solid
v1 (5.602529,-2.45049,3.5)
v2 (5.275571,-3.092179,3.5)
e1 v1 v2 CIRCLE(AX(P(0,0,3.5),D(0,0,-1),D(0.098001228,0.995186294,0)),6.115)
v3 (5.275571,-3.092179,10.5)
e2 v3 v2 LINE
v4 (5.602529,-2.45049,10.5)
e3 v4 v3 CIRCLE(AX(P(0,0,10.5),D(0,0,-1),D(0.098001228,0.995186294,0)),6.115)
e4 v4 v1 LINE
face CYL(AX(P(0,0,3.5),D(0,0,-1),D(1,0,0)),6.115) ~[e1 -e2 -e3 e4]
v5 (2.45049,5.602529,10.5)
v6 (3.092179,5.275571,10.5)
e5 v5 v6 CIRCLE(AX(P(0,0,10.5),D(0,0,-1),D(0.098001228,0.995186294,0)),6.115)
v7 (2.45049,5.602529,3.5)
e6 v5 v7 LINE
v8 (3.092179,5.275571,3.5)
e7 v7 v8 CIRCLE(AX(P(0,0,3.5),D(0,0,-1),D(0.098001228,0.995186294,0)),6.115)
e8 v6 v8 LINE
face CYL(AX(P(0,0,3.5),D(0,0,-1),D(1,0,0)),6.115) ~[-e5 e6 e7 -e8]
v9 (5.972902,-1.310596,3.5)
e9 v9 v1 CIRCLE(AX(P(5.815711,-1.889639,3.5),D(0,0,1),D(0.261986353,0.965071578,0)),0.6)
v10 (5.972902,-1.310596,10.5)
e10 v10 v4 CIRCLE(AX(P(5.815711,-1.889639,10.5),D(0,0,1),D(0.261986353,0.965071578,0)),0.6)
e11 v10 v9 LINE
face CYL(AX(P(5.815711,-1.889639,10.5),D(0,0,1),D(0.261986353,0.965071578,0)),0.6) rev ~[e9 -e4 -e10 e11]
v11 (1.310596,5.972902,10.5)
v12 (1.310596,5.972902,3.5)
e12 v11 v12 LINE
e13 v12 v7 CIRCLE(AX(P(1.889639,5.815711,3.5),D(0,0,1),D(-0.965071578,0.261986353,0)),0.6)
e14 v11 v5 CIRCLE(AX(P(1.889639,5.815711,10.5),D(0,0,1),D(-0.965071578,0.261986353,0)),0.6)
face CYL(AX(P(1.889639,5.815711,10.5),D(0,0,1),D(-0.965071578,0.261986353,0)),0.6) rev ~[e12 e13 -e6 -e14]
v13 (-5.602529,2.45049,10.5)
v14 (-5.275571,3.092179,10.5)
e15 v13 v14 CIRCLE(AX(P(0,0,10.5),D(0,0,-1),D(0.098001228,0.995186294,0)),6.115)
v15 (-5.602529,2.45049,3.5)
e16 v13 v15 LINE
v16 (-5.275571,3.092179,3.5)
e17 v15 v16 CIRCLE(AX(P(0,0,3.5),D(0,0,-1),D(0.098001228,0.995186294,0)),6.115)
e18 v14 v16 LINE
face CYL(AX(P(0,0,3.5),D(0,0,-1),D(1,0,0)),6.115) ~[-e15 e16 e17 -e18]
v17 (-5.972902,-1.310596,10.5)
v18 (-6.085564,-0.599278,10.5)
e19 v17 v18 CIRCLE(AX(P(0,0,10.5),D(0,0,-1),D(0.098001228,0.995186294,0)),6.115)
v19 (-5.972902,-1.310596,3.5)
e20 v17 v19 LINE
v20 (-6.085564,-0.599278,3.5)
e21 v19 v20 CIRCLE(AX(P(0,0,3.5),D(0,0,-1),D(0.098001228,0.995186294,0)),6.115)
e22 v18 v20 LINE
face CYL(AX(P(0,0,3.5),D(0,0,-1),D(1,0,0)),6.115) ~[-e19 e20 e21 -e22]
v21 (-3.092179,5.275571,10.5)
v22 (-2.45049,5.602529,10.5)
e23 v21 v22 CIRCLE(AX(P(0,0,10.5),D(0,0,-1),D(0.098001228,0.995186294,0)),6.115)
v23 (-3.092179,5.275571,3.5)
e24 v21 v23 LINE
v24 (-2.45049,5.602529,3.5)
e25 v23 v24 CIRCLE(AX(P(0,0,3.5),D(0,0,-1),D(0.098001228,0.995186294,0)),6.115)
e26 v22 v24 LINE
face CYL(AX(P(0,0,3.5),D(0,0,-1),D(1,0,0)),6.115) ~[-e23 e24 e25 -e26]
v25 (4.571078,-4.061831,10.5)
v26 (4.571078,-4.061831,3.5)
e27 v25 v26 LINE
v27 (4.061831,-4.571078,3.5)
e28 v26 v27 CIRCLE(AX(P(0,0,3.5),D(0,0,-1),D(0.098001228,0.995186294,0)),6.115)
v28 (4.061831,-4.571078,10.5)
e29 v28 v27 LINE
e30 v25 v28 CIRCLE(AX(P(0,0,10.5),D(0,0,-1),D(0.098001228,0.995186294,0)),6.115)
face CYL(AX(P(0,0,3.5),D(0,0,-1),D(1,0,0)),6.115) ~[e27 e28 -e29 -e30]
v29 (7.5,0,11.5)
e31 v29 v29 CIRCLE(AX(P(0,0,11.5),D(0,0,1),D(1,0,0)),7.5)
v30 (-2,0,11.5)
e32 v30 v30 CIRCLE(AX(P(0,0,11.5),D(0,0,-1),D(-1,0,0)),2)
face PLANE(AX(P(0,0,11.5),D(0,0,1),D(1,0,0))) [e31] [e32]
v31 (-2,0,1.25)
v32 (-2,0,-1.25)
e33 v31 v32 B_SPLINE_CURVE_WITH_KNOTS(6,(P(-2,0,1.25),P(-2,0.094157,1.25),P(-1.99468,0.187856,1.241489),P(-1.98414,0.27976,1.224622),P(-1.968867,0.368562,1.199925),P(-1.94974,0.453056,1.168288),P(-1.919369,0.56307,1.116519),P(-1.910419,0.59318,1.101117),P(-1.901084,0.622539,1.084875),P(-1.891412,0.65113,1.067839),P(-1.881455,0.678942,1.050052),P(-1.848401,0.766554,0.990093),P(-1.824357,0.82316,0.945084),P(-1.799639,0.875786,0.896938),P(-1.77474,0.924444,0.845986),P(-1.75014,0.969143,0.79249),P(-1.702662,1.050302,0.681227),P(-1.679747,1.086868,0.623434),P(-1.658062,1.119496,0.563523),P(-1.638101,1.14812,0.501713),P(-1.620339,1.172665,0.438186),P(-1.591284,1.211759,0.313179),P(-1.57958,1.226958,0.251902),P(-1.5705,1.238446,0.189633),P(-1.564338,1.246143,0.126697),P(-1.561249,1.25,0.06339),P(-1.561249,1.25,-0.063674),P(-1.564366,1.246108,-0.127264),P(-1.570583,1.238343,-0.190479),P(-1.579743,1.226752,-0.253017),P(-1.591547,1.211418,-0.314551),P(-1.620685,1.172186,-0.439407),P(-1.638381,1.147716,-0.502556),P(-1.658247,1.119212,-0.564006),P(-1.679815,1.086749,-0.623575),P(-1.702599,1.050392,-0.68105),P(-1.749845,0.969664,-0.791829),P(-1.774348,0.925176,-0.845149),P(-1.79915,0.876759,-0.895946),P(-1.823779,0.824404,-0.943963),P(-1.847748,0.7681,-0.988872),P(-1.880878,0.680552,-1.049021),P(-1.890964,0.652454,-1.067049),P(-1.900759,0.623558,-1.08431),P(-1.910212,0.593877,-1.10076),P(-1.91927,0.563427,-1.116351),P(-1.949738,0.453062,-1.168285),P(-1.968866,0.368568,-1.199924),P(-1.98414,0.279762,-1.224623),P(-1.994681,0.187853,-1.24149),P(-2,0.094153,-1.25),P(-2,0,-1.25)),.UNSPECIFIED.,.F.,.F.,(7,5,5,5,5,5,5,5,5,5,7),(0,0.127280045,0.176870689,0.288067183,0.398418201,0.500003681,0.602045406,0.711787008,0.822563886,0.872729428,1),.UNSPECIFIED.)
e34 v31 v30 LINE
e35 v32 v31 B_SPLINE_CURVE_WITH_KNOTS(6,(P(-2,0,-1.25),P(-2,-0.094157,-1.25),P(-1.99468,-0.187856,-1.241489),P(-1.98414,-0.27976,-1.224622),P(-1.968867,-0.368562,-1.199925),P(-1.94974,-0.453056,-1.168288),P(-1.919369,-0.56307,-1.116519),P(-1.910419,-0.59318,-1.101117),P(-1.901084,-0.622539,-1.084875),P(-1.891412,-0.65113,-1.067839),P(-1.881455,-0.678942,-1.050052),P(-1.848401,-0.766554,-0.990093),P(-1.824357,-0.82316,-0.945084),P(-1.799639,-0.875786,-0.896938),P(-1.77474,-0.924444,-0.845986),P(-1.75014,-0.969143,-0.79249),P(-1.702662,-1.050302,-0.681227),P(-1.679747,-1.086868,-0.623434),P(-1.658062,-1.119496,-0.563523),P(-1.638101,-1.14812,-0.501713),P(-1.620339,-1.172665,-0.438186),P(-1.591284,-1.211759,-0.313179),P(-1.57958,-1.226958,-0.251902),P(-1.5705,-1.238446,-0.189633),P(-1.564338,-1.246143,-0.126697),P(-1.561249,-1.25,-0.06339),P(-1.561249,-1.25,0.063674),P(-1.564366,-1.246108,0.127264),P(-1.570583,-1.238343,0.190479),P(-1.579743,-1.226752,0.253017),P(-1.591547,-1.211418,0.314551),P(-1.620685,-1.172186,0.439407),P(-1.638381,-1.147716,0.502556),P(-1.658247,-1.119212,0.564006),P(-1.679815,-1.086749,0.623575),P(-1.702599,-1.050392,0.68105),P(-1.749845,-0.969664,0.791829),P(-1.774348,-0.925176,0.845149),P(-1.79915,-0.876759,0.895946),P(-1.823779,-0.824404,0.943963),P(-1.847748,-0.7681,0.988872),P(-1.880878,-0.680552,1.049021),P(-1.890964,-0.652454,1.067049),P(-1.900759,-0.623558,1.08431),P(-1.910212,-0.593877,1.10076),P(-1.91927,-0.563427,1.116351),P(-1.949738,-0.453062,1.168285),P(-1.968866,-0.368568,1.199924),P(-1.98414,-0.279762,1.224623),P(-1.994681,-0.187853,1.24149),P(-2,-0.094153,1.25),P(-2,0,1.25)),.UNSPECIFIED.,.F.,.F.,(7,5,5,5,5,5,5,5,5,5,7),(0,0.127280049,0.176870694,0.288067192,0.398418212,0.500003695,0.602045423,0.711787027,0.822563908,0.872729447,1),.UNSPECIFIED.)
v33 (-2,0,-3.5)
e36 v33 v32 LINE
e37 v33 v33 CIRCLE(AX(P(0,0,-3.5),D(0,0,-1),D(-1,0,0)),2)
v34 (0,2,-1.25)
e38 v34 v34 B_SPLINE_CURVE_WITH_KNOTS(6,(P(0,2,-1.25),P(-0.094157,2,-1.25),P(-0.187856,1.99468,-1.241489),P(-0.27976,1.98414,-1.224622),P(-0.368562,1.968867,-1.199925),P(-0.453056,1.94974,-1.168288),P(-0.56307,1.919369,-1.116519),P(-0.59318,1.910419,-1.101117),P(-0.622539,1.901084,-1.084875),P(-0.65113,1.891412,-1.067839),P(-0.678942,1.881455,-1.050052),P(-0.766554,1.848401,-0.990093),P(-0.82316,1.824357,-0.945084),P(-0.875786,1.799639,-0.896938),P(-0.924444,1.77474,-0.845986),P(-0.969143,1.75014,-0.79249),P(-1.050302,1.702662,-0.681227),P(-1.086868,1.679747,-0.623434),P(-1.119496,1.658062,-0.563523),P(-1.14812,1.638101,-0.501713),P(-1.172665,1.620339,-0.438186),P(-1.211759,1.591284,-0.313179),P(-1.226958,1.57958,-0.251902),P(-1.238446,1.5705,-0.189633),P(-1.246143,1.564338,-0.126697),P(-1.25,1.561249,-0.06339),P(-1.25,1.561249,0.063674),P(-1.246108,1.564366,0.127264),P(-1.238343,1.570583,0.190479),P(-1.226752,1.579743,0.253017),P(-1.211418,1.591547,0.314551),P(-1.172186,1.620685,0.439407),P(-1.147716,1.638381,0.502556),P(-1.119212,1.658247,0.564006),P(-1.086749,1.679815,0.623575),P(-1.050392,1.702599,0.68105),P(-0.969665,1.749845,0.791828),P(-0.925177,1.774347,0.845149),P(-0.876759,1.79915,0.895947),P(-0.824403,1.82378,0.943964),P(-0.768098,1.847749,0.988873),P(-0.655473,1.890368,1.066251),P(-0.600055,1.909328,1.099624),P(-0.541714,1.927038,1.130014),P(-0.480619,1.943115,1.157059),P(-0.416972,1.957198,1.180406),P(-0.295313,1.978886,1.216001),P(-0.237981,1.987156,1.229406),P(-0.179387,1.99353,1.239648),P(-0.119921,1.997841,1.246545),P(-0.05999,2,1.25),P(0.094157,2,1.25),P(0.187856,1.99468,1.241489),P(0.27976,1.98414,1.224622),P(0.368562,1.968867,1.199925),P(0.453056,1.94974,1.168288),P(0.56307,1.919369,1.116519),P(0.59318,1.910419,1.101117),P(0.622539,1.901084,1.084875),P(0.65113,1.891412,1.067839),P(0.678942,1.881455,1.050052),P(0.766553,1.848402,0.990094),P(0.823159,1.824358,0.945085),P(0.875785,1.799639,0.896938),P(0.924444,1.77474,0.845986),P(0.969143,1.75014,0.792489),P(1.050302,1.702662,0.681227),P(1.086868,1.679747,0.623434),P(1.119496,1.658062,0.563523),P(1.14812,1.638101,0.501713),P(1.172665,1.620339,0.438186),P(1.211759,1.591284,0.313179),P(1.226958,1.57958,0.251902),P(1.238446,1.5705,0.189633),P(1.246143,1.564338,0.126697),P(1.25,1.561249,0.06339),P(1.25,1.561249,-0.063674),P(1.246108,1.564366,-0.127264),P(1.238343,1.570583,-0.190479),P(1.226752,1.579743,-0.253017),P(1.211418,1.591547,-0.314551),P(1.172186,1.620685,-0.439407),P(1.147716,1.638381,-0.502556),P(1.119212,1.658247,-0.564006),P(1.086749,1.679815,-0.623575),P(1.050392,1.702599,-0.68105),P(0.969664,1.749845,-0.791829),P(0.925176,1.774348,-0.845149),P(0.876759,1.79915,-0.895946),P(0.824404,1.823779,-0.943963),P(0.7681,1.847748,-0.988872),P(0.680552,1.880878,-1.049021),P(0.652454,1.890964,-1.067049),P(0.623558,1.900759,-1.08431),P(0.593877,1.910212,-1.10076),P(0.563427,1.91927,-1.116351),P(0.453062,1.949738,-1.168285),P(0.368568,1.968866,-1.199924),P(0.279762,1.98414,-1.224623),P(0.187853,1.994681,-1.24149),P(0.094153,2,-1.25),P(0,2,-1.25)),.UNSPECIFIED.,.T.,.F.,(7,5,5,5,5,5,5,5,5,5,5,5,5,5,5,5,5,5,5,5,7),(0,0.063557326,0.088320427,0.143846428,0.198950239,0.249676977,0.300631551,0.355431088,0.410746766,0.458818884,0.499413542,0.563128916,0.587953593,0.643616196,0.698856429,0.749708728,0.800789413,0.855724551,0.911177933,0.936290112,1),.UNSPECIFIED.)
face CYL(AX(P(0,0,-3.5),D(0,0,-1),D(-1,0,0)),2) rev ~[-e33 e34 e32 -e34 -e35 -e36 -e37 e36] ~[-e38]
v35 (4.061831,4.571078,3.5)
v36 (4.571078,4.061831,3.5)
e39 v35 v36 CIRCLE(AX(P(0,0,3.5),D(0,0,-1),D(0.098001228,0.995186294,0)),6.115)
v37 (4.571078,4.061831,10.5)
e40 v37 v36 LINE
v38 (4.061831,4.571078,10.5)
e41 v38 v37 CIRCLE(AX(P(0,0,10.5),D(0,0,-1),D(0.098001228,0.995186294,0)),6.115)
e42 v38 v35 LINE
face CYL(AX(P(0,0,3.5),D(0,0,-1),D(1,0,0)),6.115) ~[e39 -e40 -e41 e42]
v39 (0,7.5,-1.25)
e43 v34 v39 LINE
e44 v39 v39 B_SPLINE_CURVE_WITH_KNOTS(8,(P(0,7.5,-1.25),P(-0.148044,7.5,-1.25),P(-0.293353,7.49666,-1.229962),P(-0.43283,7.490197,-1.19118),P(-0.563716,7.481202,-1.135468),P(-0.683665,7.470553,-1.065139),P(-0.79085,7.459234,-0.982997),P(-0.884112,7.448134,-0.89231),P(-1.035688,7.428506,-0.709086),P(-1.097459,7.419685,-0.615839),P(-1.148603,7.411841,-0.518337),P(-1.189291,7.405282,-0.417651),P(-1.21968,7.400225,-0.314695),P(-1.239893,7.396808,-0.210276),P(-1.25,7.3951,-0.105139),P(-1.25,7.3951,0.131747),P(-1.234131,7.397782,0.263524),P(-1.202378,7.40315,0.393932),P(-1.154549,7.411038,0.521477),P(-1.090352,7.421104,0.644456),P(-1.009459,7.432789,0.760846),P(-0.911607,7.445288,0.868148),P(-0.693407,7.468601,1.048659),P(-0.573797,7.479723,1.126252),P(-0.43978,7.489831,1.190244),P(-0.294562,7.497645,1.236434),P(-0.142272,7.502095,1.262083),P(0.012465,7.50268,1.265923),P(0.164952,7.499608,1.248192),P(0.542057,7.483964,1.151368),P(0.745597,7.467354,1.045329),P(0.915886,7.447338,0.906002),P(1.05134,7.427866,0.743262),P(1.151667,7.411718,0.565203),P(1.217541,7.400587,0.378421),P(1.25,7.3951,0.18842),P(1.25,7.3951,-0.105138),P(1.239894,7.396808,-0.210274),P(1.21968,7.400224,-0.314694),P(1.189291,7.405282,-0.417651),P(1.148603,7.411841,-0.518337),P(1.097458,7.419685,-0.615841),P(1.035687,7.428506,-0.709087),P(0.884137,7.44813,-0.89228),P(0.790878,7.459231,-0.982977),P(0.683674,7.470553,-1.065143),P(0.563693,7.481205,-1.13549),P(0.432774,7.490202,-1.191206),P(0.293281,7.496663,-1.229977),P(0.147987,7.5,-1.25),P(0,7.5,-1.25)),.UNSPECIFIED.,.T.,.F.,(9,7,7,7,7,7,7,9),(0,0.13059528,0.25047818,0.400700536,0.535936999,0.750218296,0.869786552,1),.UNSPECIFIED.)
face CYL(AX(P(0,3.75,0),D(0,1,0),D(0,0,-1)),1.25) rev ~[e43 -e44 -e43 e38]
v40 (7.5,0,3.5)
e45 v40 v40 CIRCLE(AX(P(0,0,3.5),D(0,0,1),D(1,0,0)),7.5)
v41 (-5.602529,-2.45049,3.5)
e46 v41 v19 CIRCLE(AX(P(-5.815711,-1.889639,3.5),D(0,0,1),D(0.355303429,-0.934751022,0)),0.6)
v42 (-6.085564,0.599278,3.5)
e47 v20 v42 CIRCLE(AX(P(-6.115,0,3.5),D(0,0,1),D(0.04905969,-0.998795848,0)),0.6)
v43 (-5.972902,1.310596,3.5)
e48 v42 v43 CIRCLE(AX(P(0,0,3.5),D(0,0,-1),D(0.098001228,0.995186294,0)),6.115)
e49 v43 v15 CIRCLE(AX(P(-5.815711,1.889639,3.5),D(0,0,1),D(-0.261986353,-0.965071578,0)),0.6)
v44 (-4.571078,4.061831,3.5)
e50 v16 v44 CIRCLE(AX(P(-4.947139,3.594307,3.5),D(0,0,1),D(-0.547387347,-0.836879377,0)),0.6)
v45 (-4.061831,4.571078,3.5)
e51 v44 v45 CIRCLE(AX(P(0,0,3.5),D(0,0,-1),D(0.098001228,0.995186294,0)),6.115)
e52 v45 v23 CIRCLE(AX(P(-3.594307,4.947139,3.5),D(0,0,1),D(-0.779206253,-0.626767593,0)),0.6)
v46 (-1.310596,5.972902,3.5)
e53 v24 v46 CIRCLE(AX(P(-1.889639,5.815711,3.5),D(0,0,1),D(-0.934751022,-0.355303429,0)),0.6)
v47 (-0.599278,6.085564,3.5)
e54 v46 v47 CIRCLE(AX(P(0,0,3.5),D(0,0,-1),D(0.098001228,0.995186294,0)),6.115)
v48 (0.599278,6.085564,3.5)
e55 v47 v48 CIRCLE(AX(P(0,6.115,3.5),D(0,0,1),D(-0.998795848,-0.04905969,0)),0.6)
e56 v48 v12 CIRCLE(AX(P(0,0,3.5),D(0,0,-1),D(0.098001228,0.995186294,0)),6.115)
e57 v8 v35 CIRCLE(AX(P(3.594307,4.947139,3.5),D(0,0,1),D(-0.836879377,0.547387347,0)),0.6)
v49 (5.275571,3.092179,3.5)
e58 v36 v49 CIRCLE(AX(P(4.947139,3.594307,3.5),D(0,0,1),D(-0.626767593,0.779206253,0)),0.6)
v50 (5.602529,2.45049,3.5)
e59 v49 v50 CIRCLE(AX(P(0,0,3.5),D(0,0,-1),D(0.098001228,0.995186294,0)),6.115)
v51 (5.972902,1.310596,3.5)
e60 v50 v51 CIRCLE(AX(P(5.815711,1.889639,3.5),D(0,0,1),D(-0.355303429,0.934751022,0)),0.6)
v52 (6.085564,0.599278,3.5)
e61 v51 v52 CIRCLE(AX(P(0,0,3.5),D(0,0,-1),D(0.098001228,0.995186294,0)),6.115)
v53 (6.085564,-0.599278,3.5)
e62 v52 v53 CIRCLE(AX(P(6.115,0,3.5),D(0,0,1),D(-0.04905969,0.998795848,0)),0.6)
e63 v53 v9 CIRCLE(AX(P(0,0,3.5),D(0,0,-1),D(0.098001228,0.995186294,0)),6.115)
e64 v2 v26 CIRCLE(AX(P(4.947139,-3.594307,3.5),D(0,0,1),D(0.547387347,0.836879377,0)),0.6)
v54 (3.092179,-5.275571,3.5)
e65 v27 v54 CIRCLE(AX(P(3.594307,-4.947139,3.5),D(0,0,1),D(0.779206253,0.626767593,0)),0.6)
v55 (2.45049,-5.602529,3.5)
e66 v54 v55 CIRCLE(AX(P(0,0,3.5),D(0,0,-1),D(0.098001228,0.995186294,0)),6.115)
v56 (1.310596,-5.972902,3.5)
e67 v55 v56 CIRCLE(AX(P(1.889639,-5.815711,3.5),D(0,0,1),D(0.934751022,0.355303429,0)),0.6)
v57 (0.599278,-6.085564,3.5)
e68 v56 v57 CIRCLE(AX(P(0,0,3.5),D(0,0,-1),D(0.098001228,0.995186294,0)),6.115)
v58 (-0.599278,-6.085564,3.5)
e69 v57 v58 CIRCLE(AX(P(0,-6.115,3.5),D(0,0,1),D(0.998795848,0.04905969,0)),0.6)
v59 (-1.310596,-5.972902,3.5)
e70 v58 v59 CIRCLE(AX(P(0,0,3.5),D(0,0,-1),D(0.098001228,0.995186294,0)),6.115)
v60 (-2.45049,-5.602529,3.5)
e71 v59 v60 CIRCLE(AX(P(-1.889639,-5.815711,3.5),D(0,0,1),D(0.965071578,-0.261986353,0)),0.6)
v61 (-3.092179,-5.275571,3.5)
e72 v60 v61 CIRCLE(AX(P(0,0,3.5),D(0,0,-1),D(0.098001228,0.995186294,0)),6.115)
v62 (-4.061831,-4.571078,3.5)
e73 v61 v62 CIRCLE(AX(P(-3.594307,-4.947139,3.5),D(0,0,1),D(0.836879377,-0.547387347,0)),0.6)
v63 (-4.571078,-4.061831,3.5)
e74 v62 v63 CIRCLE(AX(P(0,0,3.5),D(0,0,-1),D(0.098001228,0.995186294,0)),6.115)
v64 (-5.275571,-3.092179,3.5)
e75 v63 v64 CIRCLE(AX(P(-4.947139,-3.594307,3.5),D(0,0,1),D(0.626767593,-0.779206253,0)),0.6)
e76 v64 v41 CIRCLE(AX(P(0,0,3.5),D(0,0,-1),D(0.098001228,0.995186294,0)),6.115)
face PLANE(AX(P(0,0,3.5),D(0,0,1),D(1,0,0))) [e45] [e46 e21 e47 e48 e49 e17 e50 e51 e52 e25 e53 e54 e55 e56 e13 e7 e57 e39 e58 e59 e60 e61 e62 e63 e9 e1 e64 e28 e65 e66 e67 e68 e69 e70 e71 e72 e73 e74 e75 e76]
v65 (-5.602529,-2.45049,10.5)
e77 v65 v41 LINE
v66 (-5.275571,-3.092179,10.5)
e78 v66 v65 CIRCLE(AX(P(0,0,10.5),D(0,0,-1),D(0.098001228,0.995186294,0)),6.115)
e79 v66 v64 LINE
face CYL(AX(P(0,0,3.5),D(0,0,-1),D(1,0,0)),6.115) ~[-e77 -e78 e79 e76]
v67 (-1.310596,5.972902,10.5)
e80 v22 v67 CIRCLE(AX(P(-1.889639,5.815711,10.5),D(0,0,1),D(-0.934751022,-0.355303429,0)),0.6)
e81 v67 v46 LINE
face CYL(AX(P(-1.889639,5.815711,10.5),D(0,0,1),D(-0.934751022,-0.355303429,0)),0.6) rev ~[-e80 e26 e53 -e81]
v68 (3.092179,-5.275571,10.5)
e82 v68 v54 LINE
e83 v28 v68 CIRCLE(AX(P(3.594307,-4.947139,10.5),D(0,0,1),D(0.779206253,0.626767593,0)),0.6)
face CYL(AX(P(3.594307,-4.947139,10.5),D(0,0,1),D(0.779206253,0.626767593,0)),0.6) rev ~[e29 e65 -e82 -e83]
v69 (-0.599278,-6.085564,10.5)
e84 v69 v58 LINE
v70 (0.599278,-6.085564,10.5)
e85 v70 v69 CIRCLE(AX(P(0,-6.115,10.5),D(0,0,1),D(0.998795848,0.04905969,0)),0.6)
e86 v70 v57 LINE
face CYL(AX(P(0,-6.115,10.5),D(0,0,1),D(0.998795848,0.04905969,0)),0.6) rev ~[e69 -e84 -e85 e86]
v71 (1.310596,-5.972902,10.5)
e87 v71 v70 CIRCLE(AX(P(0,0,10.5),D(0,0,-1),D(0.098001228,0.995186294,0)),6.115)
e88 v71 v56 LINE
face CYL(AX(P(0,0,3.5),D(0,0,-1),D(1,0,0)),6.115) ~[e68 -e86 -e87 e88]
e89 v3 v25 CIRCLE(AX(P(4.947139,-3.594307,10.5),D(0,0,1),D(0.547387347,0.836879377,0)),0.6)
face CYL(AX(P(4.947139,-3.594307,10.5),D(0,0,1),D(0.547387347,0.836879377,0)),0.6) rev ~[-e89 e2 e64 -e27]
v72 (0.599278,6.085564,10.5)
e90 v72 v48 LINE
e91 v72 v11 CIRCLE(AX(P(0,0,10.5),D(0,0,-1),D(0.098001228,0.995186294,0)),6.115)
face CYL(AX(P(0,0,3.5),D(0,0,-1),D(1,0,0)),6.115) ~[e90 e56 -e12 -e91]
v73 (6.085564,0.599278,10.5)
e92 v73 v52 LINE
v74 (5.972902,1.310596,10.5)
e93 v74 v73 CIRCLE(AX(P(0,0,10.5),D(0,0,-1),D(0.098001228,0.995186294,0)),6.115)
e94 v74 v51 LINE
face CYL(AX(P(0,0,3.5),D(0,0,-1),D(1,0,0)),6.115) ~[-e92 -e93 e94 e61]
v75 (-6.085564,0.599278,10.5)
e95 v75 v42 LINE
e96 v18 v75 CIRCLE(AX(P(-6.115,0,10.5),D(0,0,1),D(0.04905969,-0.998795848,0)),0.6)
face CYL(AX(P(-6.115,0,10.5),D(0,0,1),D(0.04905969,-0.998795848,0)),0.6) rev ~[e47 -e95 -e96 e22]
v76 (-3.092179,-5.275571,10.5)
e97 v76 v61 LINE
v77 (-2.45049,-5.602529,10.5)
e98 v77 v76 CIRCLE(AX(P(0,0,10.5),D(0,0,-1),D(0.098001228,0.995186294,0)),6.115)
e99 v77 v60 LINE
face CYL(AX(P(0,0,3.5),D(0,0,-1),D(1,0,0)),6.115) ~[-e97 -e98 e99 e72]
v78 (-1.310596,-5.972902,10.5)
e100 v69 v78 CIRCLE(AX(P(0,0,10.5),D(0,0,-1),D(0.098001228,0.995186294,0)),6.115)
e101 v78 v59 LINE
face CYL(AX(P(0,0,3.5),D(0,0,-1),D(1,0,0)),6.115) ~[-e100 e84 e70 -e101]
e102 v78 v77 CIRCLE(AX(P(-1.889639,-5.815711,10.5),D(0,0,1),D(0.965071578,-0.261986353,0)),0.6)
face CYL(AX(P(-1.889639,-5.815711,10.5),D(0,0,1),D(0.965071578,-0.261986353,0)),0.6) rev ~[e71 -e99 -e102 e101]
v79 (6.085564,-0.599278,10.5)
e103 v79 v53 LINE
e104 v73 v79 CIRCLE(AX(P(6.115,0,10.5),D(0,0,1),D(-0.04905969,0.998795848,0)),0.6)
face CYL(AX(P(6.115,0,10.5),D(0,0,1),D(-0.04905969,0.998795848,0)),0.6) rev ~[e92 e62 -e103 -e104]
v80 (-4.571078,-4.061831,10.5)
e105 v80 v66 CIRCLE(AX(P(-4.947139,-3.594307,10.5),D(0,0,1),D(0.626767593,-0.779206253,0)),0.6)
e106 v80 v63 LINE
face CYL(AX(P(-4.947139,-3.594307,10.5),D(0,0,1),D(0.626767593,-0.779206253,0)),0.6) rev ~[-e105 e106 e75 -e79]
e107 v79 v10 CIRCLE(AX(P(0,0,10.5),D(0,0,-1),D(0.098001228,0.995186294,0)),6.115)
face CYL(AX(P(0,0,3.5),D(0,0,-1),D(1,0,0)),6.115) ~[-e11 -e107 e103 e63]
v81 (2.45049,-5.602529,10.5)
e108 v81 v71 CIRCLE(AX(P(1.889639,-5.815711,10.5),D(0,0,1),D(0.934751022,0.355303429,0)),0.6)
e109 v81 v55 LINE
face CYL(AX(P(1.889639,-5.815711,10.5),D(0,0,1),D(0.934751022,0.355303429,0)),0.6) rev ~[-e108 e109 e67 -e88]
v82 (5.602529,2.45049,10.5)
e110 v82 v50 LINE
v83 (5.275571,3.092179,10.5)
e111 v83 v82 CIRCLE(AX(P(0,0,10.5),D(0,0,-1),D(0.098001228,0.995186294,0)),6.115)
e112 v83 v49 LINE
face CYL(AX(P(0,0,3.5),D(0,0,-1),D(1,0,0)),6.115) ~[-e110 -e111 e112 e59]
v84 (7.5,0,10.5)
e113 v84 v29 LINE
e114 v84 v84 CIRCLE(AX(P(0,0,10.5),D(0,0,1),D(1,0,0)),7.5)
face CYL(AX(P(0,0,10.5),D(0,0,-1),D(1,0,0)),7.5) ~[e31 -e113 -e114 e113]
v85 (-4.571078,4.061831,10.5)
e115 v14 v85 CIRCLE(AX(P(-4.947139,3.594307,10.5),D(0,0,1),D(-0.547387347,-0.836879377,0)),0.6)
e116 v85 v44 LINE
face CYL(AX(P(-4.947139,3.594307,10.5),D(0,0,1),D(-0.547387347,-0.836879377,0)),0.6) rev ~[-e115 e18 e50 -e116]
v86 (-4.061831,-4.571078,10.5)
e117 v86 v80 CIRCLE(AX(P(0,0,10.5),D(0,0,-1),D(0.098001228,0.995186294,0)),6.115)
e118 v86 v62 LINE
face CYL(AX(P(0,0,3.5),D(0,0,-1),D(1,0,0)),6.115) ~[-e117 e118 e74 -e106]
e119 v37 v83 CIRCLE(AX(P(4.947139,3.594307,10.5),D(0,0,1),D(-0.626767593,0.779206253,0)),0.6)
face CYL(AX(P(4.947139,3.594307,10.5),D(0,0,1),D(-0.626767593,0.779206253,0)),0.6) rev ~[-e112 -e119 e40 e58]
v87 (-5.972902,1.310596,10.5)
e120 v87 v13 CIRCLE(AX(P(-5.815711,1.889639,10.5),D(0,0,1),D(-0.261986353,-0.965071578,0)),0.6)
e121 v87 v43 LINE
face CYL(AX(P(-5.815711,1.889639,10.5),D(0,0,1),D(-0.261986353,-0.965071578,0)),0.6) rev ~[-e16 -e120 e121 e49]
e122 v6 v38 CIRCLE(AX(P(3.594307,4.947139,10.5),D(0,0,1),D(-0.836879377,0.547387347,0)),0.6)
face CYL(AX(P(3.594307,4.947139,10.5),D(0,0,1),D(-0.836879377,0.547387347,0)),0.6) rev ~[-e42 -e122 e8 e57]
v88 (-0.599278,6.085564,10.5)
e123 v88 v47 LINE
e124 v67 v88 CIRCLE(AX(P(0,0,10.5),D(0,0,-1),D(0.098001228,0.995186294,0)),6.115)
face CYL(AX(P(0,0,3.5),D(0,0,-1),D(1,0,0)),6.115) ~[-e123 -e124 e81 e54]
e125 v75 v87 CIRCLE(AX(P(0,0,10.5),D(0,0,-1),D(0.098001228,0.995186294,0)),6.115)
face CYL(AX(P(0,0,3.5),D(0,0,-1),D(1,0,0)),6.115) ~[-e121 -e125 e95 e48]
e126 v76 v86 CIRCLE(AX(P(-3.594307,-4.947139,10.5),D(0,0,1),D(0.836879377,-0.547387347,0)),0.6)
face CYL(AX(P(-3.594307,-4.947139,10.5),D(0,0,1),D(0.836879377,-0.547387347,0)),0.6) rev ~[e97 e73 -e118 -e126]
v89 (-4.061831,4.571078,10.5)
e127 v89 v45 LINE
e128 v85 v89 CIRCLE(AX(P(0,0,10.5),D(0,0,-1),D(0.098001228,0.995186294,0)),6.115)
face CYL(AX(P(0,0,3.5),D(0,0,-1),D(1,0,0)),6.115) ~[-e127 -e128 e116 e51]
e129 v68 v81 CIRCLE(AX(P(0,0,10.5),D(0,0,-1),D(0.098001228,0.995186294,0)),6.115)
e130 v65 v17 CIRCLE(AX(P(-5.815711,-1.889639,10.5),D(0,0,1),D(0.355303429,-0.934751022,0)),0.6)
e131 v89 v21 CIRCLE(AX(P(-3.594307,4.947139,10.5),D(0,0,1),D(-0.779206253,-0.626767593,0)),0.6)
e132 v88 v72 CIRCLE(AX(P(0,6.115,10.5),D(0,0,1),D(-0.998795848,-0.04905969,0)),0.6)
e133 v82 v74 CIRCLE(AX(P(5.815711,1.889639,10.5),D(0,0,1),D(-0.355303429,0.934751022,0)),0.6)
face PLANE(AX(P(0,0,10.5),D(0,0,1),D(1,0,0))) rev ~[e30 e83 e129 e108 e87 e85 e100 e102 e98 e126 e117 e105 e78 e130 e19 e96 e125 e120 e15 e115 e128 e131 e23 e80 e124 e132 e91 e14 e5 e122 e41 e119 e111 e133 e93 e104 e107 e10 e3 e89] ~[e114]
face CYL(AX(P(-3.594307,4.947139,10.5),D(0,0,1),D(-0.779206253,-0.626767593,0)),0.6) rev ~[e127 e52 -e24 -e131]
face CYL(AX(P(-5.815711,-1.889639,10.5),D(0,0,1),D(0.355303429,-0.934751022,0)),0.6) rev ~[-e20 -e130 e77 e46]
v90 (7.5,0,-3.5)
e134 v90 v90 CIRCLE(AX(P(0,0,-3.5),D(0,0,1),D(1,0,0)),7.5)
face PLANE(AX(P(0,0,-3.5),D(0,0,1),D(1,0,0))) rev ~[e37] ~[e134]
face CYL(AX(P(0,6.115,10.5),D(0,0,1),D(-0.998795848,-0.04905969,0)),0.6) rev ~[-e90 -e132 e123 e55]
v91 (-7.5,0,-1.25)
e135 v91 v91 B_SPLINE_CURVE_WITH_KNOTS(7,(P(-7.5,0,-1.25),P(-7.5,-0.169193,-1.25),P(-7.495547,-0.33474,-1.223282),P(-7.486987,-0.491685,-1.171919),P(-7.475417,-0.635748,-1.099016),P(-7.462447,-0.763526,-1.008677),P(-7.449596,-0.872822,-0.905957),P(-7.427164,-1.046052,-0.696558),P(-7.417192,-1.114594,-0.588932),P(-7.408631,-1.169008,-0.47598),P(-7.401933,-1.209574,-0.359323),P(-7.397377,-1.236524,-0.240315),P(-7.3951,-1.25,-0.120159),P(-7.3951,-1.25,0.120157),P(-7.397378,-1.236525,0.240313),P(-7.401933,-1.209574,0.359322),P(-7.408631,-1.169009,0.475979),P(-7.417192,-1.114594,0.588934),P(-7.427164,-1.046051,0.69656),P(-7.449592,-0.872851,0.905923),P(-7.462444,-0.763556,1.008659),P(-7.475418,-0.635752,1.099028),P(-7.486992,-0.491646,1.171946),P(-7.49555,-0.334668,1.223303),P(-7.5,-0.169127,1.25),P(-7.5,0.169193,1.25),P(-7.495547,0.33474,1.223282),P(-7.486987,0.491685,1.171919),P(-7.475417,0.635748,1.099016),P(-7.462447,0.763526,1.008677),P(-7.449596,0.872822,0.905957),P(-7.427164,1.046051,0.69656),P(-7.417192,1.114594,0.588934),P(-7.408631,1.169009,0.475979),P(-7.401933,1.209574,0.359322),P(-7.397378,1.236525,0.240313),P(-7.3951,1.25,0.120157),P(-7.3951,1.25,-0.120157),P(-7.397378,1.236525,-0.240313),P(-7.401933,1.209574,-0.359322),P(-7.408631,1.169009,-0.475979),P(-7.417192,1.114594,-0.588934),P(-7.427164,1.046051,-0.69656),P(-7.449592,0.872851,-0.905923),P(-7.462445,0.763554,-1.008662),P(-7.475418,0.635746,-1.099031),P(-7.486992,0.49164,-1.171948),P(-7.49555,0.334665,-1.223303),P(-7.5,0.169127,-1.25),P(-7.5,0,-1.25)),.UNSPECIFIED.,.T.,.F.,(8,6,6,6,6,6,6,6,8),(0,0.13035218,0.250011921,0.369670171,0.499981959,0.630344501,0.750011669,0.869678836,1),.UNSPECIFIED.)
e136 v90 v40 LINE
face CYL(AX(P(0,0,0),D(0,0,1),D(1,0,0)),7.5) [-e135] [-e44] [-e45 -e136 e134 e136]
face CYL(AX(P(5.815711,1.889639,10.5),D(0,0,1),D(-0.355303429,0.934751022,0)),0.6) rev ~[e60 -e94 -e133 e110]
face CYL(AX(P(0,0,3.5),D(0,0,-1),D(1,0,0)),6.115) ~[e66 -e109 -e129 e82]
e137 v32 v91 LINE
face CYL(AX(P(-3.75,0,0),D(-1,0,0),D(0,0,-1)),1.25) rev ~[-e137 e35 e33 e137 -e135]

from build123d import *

# Parameters (mm, degrees)
SKETCH_1_R               = 7.5
EXTRUDE_1_DEPTH          = 3.5
SKETCH_2_R               = 6.115
EXTRUDE_2_DEPTH          = 7
CUT_EXTRUDE_3_DEPTH      = 7
SKETCH_3_R               = 7.5
EXTRUDE_3_DEPTH          = 1
SKETCH_6_R               = 2
CUT_EXTRUDE_2_DEPTH      = 16
PATTERN_CIRCULAR_2_COUNT = 20
SKETCH_13_W              = 1.25
SKETCH_13_H              = 7.5
PATTERN_CIRCULAR_4_COUNT = 2
PATTERN_CIRCULAR_4_ANGLE = 90


with BuildPart() as part:
    # 草圖1 → 填料-伸長1 (new body, symmetric)
    with BuildSketch(Plane.XY):
        Circle(SKETCH_1_R)
    extrude(amount=EXTRUDE_1_DEPTH, both=True)

    # 草圖2 → 填料-伸長2 (add)
    with BuildSketch(Plane.XY.offset(3.5)):
        Circle(SKETCH_2_R)
    extrude(amount=EXTRUDE_2_DEPTH)

    # 草圖7 → 除料-伸長3 (cut)
    with BuildSketch(Plane.XY.offset(10.5)):
        with BuildLine():
            ThreePointArc((-0.599277509, 6.085564186), (0, 5.515), (0.599277509, 6.085564186))
            ThreePointArc((0.599277509, 6.085564186), (0, 6.115), (-0.599277509, 6.085564186))
        make_face()
    cut_extrude_3 = extrude(amount=-CUT_EXTRUDE_3_DEPTH, mode=Mode.SUBTRACT)

    # 草圖3 → 填料-伸長3 (add)
    with BuildSketch(Plane.XY.offset(10.5)):
        Circle(SKETCH_3_R)
    extrude(amount=EXTRUDE_3_DEPTH)

    # 草圖6 → 除料-伸長2 (cut, through all)
    with BuildSketch(Plane(origin=(0, 0, -3.5), x_dir=(-1, 0, 0), z_dir=(0, 0, -1))):
        Circle(SKETCH_6_R)
    extrude(amount=-CUT_EXTRUDE_2_DEPTH, mode=Mode.SUBTRACT)

    # 環狀複製排列2: 除料-伸長3 ×20 about axis
    pattern_circular_2_axis = Axis((0, 0, 0), (0, 0, 1))
    for i in range(1, PATTERN_CIRCULAR_2_COUNT):
        add(cut_extrude_3.rotate(pattern_circular_2_axis, i * 360 / PATTERN_CIRCULAR_2_COUNT), mode=Mode.SUBTRACT)

    # 草圖13 → M3x0.5 螺紋孔3 (revolve, cut)
    with BuildSketch(Plane(origin=(0, 0, 0), x_dir=(0, 0, -1), z_dir=(1, 0, 0))):
        with Locations((0.625, 3.75)):
            Rectangle(SKETCH_13_W, SKETCH_13_H)
    m3x0_5_3 = revolve(axis=Axis((0, -6.35, 0), (0, 1, 0)), mode=Mode.SUBTRACT)

    # 環狀複製排列4: M3x0.5 螺紋孔3 ×2 about axis
    pattern_circular_4_axis = Axis((0, 0, 3.5), (0, 0, 1))
    for i in range(1, PATTERN_CIRCULAR_4_COUNT):
        add(m3x0_5_3.rotate(pattern_circular_4_axis, i * PATTERN_CIRCULAR_4_ANGLE / (PATTERN_CIRCULAR_4_COUNT - 1)), mode=Mode.SUBTRACT)


solid = part.part
